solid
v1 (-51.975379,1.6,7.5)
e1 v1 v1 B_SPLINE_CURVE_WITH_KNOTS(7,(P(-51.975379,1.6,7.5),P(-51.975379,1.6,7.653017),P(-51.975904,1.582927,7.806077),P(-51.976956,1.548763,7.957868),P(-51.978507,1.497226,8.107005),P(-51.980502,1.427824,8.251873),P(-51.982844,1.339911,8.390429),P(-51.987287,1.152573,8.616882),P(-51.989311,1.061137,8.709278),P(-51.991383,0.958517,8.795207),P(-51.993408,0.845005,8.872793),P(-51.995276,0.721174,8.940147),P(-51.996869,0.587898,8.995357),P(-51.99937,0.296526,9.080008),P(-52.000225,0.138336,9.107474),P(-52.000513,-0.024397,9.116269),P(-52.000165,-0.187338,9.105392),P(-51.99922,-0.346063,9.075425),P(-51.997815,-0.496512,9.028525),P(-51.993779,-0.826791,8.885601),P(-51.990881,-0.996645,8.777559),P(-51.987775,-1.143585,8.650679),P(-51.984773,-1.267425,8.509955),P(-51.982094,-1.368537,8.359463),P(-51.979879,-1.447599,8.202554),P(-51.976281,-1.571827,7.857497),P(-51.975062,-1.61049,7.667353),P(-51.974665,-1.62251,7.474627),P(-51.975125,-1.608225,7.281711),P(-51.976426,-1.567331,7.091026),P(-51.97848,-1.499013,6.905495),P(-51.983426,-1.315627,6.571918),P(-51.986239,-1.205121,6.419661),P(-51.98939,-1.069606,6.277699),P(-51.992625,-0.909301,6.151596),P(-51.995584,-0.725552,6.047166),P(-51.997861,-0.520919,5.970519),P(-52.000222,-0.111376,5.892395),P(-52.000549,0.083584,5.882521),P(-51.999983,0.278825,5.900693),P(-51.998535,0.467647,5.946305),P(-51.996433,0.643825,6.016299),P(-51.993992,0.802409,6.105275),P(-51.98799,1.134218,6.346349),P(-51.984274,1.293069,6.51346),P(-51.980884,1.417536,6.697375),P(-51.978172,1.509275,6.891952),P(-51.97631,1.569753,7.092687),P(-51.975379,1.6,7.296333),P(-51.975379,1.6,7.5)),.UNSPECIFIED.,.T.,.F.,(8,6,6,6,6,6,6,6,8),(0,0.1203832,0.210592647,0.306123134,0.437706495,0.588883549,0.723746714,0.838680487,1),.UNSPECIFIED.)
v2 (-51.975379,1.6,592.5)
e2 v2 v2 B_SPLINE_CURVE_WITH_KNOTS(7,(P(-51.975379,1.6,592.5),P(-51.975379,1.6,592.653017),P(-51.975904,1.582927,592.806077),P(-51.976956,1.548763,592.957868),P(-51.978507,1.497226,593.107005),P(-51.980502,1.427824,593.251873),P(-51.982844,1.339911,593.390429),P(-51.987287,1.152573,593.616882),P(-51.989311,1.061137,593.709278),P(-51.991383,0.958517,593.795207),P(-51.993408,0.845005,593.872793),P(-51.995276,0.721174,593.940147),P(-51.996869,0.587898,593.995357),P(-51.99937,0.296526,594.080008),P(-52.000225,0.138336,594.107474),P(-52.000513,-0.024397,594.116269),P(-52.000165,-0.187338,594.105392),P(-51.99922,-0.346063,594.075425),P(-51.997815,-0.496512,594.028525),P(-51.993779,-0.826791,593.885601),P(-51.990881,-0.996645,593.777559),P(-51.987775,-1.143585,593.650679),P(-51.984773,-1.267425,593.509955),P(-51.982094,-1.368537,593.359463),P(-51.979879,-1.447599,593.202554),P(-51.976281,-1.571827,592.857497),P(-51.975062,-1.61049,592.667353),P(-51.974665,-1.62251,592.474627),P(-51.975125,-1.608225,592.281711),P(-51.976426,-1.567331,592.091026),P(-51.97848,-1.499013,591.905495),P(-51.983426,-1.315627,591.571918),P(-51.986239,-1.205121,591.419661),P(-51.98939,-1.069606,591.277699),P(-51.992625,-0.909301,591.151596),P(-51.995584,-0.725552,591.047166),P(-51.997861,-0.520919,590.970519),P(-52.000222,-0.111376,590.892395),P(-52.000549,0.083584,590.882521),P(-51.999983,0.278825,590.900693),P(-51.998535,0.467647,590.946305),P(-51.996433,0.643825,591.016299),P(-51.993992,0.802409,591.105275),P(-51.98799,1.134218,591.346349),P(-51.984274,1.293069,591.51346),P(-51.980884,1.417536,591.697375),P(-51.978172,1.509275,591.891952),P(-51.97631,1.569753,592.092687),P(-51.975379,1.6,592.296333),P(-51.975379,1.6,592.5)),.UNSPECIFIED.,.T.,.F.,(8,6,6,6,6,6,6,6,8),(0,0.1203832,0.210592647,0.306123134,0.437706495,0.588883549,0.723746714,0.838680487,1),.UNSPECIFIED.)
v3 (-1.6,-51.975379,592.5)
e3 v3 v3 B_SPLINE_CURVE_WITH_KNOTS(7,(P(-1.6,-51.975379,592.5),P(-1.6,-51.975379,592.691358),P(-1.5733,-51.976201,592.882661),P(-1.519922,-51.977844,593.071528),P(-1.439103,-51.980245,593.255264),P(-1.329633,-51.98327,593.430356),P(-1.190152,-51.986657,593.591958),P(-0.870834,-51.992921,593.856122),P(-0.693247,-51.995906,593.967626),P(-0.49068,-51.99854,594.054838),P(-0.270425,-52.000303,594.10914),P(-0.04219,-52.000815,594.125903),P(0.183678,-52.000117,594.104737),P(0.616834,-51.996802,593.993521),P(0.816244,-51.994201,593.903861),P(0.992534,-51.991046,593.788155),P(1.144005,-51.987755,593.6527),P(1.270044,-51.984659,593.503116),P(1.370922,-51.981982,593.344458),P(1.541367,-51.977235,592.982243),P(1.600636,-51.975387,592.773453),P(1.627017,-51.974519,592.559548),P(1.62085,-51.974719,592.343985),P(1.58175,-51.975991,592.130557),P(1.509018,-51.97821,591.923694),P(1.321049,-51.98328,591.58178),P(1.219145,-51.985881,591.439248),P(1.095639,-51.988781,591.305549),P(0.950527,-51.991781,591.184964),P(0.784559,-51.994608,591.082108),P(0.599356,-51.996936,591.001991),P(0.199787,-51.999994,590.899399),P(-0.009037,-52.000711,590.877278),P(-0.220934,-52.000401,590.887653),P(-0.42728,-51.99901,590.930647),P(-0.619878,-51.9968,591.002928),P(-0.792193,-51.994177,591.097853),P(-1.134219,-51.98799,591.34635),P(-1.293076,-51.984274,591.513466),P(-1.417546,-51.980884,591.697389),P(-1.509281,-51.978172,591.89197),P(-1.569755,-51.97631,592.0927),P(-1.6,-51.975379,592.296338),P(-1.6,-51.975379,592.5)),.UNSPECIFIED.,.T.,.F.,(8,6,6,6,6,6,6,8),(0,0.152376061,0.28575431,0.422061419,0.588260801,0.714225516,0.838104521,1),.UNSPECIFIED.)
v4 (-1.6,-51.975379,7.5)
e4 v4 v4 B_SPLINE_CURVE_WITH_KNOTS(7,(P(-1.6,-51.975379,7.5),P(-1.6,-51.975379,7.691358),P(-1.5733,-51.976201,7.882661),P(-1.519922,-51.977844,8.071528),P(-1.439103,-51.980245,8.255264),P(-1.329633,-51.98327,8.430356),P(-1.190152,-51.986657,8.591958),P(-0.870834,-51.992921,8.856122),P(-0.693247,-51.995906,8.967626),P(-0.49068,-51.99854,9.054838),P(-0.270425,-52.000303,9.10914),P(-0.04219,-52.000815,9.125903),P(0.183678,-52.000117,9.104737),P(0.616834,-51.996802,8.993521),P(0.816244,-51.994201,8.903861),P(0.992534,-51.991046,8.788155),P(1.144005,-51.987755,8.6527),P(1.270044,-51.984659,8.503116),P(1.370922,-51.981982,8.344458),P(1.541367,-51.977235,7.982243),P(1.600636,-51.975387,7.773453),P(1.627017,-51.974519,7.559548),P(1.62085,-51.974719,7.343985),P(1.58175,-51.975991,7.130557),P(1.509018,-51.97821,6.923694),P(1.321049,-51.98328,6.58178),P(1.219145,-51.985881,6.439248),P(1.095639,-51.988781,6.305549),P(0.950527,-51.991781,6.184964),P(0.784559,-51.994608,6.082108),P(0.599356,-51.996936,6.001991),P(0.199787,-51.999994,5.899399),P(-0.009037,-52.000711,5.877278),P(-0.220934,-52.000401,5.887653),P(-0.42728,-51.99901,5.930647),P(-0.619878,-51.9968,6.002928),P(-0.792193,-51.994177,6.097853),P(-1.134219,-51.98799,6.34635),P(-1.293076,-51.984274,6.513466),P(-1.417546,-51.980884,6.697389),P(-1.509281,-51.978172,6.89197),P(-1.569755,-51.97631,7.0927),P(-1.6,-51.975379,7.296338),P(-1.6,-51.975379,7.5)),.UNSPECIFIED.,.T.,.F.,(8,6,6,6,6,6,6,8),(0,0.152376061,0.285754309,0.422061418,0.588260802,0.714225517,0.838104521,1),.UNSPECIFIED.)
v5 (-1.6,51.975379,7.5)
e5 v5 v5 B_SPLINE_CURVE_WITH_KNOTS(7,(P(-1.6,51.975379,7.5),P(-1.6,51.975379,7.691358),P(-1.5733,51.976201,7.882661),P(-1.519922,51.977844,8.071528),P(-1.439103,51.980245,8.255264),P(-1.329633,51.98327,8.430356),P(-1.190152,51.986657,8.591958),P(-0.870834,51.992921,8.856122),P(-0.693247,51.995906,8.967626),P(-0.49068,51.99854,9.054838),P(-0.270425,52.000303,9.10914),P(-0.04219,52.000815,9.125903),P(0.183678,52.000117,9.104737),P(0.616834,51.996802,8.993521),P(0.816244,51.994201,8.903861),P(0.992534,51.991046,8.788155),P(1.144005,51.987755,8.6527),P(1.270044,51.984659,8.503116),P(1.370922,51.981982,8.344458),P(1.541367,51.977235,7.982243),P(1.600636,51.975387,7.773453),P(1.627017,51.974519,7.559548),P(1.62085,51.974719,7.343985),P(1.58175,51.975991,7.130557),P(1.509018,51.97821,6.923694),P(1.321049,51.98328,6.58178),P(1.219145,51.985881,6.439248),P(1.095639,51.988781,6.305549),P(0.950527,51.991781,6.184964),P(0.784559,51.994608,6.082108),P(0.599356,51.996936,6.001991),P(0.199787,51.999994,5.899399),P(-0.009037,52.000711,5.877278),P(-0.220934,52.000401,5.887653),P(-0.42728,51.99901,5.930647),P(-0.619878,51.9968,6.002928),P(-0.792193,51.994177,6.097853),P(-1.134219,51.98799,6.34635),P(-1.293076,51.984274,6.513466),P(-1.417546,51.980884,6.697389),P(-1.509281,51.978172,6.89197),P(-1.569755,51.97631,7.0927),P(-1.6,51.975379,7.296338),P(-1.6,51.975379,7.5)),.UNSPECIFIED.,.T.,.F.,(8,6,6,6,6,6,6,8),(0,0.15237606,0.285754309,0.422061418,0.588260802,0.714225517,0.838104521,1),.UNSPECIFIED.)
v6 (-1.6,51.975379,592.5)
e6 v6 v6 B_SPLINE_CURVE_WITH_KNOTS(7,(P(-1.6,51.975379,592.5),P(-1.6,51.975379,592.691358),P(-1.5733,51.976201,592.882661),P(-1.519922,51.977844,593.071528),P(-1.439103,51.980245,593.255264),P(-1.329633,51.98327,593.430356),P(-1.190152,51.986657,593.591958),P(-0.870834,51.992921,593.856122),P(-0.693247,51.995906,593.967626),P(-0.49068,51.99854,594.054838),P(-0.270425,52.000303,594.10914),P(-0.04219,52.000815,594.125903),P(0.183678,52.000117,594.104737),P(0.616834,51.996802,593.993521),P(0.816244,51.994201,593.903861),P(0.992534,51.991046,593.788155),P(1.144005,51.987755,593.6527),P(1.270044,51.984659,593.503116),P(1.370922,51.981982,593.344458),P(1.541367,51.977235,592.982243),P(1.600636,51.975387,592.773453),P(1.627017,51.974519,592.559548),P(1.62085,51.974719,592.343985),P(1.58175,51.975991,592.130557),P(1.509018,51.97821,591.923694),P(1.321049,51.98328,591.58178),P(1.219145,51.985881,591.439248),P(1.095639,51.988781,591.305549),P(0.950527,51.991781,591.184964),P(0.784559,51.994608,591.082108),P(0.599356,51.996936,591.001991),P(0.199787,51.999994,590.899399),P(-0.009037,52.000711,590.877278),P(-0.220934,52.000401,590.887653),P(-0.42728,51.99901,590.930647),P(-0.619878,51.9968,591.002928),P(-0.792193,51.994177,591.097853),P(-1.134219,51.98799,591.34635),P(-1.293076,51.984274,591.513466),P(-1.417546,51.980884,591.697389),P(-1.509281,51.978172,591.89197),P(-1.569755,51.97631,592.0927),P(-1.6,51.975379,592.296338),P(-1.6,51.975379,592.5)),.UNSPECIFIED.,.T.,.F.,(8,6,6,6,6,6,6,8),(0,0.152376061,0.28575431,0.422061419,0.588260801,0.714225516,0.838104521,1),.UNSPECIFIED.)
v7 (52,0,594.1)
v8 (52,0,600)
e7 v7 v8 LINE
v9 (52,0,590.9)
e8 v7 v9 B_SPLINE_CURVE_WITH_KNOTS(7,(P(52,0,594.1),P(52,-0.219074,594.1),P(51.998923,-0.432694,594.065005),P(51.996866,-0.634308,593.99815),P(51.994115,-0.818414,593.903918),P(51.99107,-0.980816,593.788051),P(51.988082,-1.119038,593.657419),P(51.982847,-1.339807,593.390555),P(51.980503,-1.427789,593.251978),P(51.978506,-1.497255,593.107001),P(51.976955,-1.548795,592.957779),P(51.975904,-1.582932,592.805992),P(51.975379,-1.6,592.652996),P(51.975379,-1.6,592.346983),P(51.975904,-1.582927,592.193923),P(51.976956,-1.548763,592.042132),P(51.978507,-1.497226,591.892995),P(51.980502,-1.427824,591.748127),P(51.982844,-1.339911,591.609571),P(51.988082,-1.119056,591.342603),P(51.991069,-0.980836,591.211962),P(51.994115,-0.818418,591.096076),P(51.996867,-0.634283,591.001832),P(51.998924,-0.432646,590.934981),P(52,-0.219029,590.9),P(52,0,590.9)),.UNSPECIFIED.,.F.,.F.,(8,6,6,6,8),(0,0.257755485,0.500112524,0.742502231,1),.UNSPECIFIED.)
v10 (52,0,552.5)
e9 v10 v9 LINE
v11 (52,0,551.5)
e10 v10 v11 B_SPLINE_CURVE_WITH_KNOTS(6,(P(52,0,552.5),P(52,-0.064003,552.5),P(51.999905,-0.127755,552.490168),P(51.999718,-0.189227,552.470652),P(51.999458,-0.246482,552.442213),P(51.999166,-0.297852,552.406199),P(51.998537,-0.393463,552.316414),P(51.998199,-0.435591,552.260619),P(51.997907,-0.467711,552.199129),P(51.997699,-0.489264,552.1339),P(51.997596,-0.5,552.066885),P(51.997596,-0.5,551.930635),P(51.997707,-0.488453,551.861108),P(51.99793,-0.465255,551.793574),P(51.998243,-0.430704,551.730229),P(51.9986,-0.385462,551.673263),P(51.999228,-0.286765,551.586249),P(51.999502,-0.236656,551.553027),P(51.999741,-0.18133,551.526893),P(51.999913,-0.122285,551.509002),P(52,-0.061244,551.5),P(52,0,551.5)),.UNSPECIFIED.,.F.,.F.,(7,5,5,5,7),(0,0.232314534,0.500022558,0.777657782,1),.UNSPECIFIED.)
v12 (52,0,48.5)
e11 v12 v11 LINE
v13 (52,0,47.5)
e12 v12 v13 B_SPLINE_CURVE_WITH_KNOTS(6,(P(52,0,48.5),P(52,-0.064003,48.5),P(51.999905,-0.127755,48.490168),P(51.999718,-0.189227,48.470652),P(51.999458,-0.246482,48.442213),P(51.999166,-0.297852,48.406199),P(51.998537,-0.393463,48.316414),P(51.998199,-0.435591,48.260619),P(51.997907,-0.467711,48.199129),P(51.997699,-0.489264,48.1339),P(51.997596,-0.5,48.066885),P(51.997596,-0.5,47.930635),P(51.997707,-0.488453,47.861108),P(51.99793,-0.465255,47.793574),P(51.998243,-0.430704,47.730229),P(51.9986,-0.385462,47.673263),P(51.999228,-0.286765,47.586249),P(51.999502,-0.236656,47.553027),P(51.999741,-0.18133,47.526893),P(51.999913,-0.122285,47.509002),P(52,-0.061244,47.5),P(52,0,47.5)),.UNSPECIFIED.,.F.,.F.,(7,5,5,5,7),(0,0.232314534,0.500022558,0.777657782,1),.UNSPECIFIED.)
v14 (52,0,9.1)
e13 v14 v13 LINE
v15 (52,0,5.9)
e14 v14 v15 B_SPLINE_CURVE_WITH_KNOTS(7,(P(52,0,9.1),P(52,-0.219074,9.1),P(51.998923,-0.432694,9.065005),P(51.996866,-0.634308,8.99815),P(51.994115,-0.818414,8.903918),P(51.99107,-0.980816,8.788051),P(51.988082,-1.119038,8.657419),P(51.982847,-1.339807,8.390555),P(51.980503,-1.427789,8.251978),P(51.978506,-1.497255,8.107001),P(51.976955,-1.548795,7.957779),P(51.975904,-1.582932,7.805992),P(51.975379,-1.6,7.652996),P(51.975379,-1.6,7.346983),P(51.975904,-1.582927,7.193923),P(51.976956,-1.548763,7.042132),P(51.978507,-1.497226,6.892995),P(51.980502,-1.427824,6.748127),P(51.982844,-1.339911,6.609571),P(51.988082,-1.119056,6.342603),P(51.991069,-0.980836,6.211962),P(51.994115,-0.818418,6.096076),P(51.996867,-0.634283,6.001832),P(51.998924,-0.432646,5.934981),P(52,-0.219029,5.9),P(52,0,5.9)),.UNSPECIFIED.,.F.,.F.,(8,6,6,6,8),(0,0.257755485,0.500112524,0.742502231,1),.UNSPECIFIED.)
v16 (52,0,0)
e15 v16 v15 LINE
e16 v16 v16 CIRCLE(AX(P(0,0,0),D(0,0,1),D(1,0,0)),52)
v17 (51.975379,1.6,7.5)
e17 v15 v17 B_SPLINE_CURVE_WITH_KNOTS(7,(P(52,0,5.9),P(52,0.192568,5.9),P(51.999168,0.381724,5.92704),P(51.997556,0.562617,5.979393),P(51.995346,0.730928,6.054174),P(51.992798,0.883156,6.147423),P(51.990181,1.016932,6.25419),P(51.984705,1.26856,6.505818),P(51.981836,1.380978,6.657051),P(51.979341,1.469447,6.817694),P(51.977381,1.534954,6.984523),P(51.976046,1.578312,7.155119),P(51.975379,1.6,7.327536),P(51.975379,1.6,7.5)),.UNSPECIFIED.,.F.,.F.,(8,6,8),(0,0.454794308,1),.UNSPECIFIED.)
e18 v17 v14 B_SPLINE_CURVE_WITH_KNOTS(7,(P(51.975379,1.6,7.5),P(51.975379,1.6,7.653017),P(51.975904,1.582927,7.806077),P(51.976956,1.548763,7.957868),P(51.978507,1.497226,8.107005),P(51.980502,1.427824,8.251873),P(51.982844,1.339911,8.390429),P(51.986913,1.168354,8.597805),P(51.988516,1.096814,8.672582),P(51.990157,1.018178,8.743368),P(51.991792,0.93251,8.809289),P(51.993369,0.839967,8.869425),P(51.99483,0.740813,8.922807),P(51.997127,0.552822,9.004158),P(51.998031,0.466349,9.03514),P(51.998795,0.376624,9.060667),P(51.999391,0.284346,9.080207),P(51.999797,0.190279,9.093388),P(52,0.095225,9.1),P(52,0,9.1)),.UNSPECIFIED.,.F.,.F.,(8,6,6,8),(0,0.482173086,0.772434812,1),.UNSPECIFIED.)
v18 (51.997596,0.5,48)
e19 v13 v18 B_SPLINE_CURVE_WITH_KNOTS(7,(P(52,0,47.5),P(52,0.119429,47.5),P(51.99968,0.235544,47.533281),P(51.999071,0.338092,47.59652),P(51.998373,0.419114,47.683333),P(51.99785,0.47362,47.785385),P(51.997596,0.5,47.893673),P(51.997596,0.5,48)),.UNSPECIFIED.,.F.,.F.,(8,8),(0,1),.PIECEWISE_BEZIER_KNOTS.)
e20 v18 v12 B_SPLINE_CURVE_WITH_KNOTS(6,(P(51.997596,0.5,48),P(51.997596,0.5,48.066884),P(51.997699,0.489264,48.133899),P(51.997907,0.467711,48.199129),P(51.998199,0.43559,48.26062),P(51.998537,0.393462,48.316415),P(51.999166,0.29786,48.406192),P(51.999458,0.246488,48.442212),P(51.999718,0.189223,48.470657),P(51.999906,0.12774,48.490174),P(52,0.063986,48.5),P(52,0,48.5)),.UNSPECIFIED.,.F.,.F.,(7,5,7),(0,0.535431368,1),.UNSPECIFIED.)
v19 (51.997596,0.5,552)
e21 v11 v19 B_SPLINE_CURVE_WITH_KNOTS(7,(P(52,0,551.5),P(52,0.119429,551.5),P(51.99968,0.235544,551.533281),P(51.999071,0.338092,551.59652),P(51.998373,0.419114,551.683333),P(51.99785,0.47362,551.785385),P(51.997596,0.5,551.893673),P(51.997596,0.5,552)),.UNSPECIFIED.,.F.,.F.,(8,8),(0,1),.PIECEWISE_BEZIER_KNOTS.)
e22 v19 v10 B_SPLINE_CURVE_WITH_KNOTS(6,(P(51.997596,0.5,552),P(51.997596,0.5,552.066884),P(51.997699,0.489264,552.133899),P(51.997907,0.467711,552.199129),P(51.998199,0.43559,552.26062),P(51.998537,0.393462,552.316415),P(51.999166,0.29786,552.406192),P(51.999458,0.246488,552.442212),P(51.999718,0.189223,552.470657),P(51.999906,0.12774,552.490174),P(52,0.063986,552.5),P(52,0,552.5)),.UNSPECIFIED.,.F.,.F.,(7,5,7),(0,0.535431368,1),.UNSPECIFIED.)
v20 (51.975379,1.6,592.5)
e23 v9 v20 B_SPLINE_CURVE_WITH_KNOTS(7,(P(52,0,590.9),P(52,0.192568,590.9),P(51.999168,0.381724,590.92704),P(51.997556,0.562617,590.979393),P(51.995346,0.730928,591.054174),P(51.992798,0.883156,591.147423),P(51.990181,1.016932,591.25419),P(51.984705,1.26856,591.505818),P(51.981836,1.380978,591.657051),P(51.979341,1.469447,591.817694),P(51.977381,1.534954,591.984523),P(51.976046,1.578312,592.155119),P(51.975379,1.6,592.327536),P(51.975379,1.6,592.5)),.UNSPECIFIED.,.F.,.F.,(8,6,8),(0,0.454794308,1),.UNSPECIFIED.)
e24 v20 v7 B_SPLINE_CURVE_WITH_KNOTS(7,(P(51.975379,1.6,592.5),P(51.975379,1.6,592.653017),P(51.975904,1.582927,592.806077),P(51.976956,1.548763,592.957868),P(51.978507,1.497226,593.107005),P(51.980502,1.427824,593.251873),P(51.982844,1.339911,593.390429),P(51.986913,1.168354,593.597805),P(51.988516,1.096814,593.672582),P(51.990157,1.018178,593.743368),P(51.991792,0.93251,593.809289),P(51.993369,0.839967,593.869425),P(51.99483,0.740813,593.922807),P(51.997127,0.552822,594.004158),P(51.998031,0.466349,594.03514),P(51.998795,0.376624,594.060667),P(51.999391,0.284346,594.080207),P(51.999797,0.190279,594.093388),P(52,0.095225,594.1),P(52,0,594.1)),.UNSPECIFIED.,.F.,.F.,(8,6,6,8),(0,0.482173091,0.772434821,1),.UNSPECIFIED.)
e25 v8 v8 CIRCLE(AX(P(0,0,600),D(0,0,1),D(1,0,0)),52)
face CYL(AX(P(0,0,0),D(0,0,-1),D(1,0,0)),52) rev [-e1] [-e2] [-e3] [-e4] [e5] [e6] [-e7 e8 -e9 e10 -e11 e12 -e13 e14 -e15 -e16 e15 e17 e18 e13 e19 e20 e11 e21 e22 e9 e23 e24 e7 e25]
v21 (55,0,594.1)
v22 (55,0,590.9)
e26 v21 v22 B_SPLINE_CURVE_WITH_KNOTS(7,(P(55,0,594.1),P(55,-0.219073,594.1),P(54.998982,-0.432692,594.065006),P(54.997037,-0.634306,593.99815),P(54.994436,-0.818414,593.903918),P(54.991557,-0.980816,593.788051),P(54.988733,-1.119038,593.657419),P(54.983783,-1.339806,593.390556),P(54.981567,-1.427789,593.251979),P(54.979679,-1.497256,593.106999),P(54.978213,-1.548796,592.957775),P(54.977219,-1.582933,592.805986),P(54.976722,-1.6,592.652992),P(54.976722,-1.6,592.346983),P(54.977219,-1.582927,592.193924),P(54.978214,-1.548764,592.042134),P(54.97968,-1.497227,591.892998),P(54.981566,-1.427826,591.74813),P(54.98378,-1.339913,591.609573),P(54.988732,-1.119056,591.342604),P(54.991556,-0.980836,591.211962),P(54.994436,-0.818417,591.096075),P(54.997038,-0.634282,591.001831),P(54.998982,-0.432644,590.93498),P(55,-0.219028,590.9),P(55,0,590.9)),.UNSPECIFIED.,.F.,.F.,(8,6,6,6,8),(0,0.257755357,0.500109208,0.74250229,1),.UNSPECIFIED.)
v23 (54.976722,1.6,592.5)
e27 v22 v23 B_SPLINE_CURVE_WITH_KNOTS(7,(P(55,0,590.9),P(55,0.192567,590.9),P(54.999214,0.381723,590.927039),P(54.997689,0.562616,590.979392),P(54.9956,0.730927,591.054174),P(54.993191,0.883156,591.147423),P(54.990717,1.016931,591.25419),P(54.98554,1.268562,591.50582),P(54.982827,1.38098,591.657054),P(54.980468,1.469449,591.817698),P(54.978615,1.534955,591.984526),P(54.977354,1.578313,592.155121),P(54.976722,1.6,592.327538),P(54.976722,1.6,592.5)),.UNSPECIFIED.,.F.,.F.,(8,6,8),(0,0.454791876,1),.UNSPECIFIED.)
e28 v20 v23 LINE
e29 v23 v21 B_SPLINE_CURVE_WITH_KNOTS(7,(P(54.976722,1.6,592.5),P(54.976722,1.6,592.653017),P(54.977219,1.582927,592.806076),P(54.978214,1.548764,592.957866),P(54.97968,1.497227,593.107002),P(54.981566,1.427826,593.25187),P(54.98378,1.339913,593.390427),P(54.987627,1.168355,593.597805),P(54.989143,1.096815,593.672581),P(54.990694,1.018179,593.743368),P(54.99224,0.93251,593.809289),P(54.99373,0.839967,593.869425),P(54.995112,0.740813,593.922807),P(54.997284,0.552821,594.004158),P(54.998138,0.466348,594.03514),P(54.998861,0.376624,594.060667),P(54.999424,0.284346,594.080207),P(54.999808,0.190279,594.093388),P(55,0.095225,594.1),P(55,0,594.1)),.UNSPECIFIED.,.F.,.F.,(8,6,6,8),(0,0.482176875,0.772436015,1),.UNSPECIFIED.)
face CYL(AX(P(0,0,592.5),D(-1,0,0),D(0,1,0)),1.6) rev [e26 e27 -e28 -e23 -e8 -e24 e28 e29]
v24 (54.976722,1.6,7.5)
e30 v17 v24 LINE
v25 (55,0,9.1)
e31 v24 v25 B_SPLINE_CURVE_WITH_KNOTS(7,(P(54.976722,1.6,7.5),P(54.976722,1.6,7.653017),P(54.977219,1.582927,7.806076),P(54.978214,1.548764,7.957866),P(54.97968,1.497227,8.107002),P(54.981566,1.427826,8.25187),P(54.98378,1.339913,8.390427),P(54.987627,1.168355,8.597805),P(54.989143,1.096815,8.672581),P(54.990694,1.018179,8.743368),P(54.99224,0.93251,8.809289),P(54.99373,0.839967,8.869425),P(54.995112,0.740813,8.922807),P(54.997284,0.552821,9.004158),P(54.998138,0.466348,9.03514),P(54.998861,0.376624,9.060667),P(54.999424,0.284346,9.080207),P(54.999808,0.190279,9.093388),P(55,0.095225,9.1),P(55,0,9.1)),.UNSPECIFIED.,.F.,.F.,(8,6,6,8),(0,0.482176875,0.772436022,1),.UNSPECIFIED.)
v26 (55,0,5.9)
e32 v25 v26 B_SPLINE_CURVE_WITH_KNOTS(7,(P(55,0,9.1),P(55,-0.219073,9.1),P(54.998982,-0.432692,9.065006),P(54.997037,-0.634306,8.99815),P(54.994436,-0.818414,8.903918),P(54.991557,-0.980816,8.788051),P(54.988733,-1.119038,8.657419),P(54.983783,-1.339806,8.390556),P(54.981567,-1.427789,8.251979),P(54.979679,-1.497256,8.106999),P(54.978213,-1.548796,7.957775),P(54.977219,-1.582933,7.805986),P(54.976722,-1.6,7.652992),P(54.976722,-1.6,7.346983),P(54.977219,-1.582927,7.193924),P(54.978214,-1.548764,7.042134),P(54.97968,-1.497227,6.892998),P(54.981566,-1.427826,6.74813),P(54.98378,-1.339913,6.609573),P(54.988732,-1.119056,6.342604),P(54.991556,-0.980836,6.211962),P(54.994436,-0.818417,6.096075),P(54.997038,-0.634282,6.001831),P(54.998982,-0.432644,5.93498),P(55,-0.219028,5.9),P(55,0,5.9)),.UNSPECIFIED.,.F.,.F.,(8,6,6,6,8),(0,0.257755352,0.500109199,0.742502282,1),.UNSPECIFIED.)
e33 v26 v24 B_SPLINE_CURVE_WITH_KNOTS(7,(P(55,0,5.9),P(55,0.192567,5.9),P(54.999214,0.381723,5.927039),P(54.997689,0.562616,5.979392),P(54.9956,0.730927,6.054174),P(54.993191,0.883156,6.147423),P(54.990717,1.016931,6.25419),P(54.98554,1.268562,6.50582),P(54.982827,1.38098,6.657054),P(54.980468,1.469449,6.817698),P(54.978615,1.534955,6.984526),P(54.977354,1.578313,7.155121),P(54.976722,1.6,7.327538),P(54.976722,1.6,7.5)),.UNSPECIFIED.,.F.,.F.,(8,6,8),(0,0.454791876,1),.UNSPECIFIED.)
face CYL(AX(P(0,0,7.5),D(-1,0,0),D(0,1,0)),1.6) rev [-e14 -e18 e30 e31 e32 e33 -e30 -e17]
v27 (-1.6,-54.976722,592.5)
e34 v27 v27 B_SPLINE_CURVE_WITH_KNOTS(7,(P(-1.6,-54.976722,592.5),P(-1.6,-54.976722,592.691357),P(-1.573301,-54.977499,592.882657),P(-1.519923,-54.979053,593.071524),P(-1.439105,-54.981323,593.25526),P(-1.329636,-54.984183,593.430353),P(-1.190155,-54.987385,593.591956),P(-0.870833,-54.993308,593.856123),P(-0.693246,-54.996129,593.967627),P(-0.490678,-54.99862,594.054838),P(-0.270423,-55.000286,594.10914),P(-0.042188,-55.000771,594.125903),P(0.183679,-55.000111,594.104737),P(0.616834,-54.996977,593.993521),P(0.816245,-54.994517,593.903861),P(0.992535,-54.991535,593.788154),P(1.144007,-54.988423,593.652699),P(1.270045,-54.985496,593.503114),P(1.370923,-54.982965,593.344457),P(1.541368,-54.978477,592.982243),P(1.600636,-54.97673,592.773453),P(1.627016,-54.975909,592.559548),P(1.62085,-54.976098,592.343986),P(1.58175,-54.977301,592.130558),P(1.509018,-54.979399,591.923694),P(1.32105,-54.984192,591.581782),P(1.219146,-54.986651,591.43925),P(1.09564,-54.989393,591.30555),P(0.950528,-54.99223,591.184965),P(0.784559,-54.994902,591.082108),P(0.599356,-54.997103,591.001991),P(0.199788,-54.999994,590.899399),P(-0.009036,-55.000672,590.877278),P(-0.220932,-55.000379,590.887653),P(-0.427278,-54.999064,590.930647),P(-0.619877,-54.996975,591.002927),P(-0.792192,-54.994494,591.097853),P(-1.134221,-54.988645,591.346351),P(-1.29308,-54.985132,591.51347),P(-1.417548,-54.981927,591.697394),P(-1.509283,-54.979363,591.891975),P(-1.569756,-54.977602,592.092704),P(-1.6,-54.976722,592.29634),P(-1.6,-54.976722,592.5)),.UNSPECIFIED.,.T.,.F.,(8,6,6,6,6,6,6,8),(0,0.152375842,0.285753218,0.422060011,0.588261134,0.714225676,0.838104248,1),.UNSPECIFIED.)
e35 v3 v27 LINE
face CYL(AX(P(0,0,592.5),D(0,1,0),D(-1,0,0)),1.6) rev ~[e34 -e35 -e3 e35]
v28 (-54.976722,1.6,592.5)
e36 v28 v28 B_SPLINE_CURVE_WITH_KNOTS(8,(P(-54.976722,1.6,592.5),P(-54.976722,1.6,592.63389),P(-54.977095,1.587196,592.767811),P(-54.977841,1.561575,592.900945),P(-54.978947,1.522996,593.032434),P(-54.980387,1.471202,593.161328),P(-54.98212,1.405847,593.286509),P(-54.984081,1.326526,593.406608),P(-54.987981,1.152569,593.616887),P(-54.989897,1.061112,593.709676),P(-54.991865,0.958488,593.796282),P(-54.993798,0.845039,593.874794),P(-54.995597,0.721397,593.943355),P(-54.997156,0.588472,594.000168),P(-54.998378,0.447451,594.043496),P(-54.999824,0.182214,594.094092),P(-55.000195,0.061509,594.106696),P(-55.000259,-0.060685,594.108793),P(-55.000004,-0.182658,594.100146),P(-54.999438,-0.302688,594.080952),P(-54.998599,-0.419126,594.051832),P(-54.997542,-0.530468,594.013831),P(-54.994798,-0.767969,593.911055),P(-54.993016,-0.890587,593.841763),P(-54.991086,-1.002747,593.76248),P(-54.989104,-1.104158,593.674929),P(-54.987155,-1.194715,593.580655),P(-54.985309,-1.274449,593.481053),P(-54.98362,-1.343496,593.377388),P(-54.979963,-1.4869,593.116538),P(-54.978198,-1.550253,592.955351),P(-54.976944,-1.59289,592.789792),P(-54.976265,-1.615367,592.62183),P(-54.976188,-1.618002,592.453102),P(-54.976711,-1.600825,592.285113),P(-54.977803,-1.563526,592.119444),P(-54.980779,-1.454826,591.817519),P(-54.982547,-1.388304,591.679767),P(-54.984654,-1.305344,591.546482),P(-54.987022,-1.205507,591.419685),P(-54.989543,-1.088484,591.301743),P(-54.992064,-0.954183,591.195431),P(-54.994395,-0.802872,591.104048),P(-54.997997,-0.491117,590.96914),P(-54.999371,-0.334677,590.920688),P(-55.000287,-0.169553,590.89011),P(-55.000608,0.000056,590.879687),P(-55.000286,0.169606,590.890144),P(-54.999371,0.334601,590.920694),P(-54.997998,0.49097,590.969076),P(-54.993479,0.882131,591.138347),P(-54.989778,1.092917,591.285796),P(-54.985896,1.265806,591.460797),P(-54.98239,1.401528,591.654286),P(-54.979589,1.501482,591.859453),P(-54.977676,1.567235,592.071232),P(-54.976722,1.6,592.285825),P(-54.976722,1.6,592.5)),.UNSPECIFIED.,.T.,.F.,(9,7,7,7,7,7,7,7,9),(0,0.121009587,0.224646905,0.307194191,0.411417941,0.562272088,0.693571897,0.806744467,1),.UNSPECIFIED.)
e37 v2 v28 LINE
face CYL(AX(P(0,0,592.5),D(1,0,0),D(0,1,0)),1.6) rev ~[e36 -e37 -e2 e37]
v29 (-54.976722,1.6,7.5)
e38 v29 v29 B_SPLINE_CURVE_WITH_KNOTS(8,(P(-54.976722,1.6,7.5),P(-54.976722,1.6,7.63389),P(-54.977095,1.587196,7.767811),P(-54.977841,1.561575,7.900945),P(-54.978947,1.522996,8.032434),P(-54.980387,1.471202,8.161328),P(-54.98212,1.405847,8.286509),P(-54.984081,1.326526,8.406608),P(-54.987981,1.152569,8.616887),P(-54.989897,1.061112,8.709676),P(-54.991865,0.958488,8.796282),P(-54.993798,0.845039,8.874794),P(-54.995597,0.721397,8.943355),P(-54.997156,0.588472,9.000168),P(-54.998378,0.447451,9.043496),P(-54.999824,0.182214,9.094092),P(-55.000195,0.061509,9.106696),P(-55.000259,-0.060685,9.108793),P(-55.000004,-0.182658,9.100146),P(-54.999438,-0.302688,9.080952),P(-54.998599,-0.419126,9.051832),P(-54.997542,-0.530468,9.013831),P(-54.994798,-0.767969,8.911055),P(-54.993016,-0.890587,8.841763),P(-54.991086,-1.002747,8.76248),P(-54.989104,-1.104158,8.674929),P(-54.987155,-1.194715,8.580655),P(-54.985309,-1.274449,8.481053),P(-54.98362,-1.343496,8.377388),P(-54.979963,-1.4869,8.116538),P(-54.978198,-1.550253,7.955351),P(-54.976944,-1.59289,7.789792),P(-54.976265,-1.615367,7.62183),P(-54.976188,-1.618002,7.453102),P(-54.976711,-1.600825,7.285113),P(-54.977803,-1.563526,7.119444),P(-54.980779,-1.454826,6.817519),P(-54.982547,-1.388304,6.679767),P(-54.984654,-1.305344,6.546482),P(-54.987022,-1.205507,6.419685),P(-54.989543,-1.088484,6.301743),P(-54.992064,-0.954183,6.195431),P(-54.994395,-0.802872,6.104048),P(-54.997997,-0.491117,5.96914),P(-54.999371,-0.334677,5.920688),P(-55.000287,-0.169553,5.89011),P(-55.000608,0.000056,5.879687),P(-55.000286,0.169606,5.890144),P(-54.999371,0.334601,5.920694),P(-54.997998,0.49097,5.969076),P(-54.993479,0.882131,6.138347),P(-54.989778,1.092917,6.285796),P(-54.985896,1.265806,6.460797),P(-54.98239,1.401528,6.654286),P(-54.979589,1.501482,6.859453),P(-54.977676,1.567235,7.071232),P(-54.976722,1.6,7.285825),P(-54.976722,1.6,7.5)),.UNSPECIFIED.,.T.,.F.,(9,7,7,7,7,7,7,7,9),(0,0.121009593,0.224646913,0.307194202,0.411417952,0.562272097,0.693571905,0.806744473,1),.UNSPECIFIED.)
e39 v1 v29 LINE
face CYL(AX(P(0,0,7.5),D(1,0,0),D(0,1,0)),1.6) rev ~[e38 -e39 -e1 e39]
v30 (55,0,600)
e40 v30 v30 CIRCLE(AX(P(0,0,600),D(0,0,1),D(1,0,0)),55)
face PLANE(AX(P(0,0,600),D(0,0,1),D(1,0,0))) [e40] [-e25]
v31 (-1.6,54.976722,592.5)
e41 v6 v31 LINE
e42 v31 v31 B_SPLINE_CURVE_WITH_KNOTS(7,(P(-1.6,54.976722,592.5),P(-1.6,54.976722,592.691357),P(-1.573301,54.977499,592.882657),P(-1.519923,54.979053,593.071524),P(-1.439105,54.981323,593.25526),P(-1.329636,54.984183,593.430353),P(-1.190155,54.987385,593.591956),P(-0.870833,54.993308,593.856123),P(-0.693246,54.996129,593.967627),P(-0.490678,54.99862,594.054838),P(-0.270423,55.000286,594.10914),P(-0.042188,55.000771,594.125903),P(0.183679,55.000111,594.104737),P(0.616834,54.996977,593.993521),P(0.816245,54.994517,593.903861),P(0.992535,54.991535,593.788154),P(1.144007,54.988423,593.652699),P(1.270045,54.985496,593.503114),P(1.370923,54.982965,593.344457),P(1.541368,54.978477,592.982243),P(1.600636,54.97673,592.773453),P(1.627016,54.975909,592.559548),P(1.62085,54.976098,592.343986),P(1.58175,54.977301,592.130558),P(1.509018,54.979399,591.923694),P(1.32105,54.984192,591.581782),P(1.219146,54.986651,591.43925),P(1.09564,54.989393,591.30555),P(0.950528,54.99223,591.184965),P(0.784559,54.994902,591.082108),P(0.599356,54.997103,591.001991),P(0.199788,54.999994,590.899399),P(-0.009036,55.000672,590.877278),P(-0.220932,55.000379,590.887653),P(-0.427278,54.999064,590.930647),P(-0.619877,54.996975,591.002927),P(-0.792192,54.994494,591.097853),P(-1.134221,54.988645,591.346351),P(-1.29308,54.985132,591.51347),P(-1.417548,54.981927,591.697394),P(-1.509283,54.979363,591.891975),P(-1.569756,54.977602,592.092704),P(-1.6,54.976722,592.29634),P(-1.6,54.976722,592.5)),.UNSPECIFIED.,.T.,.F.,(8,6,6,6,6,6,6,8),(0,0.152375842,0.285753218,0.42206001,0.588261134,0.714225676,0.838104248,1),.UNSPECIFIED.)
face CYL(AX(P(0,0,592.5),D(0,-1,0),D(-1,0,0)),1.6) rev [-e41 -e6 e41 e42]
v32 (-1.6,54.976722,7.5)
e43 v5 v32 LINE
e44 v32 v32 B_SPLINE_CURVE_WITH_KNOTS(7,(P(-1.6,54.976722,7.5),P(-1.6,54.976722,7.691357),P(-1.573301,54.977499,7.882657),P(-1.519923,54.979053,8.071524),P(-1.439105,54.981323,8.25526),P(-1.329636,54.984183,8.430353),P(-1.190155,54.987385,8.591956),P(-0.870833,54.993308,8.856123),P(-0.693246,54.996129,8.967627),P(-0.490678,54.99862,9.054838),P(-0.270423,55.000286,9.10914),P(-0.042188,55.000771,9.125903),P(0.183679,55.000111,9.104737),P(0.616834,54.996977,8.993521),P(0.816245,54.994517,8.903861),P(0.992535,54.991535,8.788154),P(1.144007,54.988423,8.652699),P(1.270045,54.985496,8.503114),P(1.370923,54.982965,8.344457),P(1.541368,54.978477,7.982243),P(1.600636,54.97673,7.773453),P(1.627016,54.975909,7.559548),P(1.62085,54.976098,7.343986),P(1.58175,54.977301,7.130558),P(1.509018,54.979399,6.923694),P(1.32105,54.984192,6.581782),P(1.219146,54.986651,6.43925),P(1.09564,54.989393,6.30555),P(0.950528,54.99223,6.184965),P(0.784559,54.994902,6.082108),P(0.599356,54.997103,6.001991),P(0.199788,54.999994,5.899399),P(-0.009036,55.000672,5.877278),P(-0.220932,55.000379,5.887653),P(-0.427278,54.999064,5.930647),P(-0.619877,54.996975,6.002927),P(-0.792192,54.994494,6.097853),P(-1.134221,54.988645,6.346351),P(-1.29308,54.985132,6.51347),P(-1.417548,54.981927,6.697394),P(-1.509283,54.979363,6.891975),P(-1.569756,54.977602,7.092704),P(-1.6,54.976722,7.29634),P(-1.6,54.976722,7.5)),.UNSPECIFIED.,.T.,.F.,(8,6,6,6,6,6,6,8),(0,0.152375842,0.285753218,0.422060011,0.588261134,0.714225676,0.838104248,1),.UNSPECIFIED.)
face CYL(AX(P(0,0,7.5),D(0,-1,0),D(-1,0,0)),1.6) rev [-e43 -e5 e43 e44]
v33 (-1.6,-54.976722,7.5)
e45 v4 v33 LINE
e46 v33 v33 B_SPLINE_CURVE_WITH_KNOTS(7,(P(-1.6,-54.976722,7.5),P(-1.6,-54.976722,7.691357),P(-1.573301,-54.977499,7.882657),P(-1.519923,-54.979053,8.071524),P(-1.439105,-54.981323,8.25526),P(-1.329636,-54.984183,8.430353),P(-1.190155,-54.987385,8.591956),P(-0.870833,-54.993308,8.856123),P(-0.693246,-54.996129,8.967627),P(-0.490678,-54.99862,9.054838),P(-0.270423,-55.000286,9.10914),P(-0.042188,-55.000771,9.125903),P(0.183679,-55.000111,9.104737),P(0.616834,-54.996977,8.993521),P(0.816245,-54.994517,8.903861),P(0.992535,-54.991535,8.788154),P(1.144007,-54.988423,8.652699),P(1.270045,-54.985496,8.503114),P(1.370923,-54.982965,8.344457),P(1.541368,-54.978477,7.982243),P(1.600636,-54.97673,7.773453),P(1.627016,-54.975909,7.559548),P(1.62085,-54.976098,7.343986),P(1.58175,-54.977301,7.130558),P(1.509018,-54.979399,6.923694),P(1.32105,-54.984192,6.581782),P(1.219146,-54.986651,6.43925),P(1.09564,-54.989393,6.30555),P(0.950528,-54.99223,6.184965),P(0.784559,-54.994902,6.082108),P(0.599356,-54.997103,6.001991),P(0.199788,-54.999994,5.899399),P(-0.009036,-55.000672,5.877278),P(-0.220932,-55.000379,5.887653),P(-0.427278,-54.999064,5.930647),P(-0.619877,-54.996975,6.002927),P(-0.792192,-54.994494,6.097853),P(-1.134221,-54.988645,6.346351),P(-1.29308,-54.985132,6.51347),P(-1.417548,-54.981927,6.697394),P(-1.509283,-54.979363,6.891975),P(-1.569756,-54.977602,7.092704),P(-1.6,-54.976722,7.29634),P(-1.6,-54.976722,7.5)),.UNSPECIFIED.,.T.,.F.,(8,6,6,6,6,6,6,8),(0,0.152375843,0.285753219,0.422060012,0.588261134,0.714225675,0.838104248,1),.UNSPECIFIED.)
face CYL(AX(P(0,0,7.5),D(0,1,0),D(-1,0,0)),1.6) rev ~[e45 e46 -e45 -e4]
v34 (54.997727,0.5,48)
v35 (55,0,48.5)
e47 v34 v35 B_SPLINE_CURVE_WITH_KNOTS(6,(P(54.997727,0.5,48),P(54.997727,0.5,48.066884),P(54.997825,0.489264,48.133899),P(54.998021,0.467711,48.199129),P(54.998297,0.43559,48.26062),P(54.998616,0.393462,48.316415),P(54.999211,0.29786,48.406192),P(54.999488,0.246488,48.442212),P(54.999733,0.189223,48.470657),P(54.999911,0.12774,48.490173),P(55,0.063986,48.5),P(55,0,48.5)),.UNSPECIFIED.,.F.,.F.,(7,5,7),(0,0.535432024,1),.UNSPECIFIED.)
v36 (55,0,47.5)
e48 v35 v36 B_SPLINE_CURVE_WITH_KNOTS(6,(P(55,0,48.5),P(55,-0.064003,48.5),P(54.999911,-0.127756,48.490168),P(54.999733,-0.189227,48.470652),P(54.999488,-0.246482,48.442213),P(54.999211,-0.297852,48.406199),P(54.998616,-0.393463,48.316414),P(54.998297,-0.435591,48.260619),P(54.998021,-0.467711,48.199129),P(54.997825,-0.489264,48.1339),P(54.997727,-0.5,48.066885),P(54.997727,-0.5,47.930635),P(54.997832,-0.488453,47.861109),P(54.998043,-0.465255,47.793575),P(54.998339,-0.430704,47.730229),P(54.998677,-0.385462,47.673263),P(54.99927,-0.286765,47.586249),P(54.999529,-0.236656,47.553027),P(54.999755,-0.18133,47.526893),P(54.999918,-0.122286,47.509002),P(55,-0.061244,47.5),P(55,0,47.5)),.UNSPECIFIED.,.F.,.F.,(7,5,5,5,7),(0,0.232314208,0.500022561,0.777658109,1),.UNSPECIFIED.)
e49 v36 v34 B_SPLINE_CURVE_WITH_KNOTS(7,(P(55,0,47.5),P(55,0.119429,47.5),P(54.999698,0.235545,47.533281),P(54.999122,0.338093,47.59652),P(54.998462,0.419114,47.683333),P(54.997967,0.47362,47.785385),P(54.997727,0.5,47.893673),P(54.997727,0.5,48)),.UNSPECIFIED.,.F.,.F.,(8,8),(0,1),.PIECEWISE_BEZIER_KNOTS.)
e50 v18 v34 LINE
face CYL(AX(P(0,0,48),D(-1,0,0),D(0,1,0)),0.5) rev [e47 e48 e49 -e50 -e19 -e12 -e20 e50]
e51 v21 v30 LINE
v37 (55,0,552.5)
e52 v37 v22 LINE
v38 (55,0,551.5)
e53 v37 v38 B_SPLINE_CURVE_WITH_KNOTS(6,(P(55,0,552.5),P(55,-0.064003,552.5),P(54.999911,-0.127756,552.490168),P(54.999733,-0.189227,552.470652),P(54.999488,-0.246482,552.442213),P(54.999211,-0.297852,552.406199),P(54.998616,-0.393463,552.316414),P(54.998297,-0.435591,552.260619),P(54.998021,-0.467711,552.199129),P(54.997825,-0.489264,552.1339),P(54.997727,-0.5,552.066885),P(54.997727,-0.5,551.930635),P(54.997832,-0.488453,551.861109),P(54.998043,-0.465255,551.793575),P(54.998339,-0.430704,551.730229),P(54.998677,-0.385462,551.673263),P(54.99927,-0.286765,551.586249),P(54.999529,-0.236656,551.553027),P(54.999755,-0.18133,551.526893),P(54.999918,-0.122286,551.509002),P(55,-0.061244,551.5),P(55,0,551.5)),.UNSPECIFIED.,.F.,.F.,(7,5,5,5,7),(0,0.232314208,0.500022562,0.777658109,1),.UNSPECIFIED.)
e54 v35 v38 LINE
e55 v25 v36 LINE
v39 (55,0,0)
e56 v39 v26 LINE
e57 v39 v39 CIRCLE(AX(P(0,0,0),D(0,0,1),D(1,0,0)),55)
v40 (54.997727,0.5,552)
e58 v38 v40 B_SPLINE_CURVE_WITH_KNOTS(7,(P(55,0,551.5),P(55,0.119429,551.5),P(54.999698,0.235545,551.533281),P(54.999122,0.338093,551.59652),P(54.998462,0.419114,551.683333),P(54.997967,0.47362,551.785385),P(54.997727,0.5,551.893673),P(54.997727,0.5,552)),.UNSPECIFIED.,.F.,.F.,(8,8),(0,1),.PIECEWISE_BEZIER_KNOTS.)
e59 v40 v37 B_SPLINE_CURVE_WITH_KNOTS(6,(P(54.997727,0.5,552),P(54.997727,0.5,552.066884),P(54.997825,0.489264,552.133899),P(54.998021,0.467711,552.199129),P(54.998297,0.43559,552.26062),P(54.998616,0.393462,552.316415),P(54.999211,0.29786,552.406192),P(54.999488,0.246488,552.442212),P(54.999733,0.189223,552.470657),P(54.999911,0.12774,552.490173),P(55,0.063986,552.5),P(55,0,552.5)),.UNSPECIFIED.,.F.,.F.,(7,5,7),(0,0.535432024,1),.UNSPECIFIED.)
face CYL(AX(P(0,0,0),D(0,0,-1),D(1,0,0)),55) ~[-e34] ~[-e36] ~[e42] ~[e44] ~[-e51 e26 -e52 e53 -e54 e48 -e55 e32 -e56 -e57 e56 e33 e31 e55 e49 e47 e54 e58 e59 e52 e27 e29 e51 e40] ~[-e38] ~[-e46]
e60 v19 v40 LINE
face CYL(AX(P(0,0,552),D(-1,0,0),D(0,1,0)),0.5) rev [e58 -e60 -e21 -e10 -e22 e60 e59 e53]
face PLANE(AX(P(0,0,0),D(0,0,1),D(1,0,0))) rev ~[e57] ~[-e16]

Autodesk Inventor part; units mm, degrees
ref_plane "YZ Plane" through (0, 0, 0) normal (1, 0, 0) x (0, 1, 0)
ref_plane "XZ Plane" through (0, 0, 0) normal (0, 1, 0) x (-1, 0, 0)
ref_plane "XY Plane" through (0, 0, 0) normal (0, 0, 1) x (1, 0, 0)
sketch "Sketch1" plane through (0, 0, 0) normal (0, 0, 1) x (1, 0, 0)
  circle A0 centre (0, 0) radius 52
  circle A1 centre (0, 0) radius 55
  dimension "d0" = 110
  dimension "d1" = 104
extrude "Extrusion1" add sketch "Sketch1" along normal blind 600
sketch "Sketch2" plane through (0, 0, 0) normal (1, 0, 0) x (0, 1, 0)
  circle A0 centre (0, 7.5) radius 1.6
  circle A1 centre (0, 592.5) radius 1.6
  line L0 (-55, 0) -> (55, 0) projected
  line L1 (55, 600) -> (-55, 600) projected
  point P0 (0, 0)
  dimension "d4" = 3.2
  dimension "d5" = 3.2
  dimension "d6" = 7.5
  dimension "d7" = 7.5
extrude "Extrusion2" cut sketch "Sketch2" along normal through all both and the other way through all
sketch "Sketch3" plane through (0, 0, 0) normal (0, 1, 0) x (-1, 0, 0)
  circle A0 centre (0, 7.5) radius 1.6
  line L0 (-55, 0) -> (55, 0) projected
  circle A1 centre (0, 592.5) radius 1.6
  line L1 (55, 600) -> (-55, 600) projected
  point P0 (0, 0)
  point P1 (0, 0)
  dimension "d10" = 3.2
  dimension "d11" = 7.5
  dimension "d12" = 3.2
  dimension "d13" = 7.5
extrude "Extrusion3" cut sketch "Sketch3" along normal through all both and the other way through all
sketch "Sketch4" plane through (0, 0, 0) normal (1, 0, 0) x (0, 1, 0)
  circle A0 centre (0, 48) radius 0.5
  circle A1 centre (0, 552) radius 0.5
  line L0 (-55, 0) -> (55, 0) projected
  line L1 (55, 600) -> (-55, 600) projected
  point P0 (0, 0)
  point P1 (0, 0)
  dimension "d16" = 1
  dimension "d17" = 1
  dimension "d18" = 48
  dimension "d19" = 48
extrude "Extrusion4" cut sketch "Sketch4" along normal through all
properties part number "Secondary" material "Polycarbonate, Clear"
